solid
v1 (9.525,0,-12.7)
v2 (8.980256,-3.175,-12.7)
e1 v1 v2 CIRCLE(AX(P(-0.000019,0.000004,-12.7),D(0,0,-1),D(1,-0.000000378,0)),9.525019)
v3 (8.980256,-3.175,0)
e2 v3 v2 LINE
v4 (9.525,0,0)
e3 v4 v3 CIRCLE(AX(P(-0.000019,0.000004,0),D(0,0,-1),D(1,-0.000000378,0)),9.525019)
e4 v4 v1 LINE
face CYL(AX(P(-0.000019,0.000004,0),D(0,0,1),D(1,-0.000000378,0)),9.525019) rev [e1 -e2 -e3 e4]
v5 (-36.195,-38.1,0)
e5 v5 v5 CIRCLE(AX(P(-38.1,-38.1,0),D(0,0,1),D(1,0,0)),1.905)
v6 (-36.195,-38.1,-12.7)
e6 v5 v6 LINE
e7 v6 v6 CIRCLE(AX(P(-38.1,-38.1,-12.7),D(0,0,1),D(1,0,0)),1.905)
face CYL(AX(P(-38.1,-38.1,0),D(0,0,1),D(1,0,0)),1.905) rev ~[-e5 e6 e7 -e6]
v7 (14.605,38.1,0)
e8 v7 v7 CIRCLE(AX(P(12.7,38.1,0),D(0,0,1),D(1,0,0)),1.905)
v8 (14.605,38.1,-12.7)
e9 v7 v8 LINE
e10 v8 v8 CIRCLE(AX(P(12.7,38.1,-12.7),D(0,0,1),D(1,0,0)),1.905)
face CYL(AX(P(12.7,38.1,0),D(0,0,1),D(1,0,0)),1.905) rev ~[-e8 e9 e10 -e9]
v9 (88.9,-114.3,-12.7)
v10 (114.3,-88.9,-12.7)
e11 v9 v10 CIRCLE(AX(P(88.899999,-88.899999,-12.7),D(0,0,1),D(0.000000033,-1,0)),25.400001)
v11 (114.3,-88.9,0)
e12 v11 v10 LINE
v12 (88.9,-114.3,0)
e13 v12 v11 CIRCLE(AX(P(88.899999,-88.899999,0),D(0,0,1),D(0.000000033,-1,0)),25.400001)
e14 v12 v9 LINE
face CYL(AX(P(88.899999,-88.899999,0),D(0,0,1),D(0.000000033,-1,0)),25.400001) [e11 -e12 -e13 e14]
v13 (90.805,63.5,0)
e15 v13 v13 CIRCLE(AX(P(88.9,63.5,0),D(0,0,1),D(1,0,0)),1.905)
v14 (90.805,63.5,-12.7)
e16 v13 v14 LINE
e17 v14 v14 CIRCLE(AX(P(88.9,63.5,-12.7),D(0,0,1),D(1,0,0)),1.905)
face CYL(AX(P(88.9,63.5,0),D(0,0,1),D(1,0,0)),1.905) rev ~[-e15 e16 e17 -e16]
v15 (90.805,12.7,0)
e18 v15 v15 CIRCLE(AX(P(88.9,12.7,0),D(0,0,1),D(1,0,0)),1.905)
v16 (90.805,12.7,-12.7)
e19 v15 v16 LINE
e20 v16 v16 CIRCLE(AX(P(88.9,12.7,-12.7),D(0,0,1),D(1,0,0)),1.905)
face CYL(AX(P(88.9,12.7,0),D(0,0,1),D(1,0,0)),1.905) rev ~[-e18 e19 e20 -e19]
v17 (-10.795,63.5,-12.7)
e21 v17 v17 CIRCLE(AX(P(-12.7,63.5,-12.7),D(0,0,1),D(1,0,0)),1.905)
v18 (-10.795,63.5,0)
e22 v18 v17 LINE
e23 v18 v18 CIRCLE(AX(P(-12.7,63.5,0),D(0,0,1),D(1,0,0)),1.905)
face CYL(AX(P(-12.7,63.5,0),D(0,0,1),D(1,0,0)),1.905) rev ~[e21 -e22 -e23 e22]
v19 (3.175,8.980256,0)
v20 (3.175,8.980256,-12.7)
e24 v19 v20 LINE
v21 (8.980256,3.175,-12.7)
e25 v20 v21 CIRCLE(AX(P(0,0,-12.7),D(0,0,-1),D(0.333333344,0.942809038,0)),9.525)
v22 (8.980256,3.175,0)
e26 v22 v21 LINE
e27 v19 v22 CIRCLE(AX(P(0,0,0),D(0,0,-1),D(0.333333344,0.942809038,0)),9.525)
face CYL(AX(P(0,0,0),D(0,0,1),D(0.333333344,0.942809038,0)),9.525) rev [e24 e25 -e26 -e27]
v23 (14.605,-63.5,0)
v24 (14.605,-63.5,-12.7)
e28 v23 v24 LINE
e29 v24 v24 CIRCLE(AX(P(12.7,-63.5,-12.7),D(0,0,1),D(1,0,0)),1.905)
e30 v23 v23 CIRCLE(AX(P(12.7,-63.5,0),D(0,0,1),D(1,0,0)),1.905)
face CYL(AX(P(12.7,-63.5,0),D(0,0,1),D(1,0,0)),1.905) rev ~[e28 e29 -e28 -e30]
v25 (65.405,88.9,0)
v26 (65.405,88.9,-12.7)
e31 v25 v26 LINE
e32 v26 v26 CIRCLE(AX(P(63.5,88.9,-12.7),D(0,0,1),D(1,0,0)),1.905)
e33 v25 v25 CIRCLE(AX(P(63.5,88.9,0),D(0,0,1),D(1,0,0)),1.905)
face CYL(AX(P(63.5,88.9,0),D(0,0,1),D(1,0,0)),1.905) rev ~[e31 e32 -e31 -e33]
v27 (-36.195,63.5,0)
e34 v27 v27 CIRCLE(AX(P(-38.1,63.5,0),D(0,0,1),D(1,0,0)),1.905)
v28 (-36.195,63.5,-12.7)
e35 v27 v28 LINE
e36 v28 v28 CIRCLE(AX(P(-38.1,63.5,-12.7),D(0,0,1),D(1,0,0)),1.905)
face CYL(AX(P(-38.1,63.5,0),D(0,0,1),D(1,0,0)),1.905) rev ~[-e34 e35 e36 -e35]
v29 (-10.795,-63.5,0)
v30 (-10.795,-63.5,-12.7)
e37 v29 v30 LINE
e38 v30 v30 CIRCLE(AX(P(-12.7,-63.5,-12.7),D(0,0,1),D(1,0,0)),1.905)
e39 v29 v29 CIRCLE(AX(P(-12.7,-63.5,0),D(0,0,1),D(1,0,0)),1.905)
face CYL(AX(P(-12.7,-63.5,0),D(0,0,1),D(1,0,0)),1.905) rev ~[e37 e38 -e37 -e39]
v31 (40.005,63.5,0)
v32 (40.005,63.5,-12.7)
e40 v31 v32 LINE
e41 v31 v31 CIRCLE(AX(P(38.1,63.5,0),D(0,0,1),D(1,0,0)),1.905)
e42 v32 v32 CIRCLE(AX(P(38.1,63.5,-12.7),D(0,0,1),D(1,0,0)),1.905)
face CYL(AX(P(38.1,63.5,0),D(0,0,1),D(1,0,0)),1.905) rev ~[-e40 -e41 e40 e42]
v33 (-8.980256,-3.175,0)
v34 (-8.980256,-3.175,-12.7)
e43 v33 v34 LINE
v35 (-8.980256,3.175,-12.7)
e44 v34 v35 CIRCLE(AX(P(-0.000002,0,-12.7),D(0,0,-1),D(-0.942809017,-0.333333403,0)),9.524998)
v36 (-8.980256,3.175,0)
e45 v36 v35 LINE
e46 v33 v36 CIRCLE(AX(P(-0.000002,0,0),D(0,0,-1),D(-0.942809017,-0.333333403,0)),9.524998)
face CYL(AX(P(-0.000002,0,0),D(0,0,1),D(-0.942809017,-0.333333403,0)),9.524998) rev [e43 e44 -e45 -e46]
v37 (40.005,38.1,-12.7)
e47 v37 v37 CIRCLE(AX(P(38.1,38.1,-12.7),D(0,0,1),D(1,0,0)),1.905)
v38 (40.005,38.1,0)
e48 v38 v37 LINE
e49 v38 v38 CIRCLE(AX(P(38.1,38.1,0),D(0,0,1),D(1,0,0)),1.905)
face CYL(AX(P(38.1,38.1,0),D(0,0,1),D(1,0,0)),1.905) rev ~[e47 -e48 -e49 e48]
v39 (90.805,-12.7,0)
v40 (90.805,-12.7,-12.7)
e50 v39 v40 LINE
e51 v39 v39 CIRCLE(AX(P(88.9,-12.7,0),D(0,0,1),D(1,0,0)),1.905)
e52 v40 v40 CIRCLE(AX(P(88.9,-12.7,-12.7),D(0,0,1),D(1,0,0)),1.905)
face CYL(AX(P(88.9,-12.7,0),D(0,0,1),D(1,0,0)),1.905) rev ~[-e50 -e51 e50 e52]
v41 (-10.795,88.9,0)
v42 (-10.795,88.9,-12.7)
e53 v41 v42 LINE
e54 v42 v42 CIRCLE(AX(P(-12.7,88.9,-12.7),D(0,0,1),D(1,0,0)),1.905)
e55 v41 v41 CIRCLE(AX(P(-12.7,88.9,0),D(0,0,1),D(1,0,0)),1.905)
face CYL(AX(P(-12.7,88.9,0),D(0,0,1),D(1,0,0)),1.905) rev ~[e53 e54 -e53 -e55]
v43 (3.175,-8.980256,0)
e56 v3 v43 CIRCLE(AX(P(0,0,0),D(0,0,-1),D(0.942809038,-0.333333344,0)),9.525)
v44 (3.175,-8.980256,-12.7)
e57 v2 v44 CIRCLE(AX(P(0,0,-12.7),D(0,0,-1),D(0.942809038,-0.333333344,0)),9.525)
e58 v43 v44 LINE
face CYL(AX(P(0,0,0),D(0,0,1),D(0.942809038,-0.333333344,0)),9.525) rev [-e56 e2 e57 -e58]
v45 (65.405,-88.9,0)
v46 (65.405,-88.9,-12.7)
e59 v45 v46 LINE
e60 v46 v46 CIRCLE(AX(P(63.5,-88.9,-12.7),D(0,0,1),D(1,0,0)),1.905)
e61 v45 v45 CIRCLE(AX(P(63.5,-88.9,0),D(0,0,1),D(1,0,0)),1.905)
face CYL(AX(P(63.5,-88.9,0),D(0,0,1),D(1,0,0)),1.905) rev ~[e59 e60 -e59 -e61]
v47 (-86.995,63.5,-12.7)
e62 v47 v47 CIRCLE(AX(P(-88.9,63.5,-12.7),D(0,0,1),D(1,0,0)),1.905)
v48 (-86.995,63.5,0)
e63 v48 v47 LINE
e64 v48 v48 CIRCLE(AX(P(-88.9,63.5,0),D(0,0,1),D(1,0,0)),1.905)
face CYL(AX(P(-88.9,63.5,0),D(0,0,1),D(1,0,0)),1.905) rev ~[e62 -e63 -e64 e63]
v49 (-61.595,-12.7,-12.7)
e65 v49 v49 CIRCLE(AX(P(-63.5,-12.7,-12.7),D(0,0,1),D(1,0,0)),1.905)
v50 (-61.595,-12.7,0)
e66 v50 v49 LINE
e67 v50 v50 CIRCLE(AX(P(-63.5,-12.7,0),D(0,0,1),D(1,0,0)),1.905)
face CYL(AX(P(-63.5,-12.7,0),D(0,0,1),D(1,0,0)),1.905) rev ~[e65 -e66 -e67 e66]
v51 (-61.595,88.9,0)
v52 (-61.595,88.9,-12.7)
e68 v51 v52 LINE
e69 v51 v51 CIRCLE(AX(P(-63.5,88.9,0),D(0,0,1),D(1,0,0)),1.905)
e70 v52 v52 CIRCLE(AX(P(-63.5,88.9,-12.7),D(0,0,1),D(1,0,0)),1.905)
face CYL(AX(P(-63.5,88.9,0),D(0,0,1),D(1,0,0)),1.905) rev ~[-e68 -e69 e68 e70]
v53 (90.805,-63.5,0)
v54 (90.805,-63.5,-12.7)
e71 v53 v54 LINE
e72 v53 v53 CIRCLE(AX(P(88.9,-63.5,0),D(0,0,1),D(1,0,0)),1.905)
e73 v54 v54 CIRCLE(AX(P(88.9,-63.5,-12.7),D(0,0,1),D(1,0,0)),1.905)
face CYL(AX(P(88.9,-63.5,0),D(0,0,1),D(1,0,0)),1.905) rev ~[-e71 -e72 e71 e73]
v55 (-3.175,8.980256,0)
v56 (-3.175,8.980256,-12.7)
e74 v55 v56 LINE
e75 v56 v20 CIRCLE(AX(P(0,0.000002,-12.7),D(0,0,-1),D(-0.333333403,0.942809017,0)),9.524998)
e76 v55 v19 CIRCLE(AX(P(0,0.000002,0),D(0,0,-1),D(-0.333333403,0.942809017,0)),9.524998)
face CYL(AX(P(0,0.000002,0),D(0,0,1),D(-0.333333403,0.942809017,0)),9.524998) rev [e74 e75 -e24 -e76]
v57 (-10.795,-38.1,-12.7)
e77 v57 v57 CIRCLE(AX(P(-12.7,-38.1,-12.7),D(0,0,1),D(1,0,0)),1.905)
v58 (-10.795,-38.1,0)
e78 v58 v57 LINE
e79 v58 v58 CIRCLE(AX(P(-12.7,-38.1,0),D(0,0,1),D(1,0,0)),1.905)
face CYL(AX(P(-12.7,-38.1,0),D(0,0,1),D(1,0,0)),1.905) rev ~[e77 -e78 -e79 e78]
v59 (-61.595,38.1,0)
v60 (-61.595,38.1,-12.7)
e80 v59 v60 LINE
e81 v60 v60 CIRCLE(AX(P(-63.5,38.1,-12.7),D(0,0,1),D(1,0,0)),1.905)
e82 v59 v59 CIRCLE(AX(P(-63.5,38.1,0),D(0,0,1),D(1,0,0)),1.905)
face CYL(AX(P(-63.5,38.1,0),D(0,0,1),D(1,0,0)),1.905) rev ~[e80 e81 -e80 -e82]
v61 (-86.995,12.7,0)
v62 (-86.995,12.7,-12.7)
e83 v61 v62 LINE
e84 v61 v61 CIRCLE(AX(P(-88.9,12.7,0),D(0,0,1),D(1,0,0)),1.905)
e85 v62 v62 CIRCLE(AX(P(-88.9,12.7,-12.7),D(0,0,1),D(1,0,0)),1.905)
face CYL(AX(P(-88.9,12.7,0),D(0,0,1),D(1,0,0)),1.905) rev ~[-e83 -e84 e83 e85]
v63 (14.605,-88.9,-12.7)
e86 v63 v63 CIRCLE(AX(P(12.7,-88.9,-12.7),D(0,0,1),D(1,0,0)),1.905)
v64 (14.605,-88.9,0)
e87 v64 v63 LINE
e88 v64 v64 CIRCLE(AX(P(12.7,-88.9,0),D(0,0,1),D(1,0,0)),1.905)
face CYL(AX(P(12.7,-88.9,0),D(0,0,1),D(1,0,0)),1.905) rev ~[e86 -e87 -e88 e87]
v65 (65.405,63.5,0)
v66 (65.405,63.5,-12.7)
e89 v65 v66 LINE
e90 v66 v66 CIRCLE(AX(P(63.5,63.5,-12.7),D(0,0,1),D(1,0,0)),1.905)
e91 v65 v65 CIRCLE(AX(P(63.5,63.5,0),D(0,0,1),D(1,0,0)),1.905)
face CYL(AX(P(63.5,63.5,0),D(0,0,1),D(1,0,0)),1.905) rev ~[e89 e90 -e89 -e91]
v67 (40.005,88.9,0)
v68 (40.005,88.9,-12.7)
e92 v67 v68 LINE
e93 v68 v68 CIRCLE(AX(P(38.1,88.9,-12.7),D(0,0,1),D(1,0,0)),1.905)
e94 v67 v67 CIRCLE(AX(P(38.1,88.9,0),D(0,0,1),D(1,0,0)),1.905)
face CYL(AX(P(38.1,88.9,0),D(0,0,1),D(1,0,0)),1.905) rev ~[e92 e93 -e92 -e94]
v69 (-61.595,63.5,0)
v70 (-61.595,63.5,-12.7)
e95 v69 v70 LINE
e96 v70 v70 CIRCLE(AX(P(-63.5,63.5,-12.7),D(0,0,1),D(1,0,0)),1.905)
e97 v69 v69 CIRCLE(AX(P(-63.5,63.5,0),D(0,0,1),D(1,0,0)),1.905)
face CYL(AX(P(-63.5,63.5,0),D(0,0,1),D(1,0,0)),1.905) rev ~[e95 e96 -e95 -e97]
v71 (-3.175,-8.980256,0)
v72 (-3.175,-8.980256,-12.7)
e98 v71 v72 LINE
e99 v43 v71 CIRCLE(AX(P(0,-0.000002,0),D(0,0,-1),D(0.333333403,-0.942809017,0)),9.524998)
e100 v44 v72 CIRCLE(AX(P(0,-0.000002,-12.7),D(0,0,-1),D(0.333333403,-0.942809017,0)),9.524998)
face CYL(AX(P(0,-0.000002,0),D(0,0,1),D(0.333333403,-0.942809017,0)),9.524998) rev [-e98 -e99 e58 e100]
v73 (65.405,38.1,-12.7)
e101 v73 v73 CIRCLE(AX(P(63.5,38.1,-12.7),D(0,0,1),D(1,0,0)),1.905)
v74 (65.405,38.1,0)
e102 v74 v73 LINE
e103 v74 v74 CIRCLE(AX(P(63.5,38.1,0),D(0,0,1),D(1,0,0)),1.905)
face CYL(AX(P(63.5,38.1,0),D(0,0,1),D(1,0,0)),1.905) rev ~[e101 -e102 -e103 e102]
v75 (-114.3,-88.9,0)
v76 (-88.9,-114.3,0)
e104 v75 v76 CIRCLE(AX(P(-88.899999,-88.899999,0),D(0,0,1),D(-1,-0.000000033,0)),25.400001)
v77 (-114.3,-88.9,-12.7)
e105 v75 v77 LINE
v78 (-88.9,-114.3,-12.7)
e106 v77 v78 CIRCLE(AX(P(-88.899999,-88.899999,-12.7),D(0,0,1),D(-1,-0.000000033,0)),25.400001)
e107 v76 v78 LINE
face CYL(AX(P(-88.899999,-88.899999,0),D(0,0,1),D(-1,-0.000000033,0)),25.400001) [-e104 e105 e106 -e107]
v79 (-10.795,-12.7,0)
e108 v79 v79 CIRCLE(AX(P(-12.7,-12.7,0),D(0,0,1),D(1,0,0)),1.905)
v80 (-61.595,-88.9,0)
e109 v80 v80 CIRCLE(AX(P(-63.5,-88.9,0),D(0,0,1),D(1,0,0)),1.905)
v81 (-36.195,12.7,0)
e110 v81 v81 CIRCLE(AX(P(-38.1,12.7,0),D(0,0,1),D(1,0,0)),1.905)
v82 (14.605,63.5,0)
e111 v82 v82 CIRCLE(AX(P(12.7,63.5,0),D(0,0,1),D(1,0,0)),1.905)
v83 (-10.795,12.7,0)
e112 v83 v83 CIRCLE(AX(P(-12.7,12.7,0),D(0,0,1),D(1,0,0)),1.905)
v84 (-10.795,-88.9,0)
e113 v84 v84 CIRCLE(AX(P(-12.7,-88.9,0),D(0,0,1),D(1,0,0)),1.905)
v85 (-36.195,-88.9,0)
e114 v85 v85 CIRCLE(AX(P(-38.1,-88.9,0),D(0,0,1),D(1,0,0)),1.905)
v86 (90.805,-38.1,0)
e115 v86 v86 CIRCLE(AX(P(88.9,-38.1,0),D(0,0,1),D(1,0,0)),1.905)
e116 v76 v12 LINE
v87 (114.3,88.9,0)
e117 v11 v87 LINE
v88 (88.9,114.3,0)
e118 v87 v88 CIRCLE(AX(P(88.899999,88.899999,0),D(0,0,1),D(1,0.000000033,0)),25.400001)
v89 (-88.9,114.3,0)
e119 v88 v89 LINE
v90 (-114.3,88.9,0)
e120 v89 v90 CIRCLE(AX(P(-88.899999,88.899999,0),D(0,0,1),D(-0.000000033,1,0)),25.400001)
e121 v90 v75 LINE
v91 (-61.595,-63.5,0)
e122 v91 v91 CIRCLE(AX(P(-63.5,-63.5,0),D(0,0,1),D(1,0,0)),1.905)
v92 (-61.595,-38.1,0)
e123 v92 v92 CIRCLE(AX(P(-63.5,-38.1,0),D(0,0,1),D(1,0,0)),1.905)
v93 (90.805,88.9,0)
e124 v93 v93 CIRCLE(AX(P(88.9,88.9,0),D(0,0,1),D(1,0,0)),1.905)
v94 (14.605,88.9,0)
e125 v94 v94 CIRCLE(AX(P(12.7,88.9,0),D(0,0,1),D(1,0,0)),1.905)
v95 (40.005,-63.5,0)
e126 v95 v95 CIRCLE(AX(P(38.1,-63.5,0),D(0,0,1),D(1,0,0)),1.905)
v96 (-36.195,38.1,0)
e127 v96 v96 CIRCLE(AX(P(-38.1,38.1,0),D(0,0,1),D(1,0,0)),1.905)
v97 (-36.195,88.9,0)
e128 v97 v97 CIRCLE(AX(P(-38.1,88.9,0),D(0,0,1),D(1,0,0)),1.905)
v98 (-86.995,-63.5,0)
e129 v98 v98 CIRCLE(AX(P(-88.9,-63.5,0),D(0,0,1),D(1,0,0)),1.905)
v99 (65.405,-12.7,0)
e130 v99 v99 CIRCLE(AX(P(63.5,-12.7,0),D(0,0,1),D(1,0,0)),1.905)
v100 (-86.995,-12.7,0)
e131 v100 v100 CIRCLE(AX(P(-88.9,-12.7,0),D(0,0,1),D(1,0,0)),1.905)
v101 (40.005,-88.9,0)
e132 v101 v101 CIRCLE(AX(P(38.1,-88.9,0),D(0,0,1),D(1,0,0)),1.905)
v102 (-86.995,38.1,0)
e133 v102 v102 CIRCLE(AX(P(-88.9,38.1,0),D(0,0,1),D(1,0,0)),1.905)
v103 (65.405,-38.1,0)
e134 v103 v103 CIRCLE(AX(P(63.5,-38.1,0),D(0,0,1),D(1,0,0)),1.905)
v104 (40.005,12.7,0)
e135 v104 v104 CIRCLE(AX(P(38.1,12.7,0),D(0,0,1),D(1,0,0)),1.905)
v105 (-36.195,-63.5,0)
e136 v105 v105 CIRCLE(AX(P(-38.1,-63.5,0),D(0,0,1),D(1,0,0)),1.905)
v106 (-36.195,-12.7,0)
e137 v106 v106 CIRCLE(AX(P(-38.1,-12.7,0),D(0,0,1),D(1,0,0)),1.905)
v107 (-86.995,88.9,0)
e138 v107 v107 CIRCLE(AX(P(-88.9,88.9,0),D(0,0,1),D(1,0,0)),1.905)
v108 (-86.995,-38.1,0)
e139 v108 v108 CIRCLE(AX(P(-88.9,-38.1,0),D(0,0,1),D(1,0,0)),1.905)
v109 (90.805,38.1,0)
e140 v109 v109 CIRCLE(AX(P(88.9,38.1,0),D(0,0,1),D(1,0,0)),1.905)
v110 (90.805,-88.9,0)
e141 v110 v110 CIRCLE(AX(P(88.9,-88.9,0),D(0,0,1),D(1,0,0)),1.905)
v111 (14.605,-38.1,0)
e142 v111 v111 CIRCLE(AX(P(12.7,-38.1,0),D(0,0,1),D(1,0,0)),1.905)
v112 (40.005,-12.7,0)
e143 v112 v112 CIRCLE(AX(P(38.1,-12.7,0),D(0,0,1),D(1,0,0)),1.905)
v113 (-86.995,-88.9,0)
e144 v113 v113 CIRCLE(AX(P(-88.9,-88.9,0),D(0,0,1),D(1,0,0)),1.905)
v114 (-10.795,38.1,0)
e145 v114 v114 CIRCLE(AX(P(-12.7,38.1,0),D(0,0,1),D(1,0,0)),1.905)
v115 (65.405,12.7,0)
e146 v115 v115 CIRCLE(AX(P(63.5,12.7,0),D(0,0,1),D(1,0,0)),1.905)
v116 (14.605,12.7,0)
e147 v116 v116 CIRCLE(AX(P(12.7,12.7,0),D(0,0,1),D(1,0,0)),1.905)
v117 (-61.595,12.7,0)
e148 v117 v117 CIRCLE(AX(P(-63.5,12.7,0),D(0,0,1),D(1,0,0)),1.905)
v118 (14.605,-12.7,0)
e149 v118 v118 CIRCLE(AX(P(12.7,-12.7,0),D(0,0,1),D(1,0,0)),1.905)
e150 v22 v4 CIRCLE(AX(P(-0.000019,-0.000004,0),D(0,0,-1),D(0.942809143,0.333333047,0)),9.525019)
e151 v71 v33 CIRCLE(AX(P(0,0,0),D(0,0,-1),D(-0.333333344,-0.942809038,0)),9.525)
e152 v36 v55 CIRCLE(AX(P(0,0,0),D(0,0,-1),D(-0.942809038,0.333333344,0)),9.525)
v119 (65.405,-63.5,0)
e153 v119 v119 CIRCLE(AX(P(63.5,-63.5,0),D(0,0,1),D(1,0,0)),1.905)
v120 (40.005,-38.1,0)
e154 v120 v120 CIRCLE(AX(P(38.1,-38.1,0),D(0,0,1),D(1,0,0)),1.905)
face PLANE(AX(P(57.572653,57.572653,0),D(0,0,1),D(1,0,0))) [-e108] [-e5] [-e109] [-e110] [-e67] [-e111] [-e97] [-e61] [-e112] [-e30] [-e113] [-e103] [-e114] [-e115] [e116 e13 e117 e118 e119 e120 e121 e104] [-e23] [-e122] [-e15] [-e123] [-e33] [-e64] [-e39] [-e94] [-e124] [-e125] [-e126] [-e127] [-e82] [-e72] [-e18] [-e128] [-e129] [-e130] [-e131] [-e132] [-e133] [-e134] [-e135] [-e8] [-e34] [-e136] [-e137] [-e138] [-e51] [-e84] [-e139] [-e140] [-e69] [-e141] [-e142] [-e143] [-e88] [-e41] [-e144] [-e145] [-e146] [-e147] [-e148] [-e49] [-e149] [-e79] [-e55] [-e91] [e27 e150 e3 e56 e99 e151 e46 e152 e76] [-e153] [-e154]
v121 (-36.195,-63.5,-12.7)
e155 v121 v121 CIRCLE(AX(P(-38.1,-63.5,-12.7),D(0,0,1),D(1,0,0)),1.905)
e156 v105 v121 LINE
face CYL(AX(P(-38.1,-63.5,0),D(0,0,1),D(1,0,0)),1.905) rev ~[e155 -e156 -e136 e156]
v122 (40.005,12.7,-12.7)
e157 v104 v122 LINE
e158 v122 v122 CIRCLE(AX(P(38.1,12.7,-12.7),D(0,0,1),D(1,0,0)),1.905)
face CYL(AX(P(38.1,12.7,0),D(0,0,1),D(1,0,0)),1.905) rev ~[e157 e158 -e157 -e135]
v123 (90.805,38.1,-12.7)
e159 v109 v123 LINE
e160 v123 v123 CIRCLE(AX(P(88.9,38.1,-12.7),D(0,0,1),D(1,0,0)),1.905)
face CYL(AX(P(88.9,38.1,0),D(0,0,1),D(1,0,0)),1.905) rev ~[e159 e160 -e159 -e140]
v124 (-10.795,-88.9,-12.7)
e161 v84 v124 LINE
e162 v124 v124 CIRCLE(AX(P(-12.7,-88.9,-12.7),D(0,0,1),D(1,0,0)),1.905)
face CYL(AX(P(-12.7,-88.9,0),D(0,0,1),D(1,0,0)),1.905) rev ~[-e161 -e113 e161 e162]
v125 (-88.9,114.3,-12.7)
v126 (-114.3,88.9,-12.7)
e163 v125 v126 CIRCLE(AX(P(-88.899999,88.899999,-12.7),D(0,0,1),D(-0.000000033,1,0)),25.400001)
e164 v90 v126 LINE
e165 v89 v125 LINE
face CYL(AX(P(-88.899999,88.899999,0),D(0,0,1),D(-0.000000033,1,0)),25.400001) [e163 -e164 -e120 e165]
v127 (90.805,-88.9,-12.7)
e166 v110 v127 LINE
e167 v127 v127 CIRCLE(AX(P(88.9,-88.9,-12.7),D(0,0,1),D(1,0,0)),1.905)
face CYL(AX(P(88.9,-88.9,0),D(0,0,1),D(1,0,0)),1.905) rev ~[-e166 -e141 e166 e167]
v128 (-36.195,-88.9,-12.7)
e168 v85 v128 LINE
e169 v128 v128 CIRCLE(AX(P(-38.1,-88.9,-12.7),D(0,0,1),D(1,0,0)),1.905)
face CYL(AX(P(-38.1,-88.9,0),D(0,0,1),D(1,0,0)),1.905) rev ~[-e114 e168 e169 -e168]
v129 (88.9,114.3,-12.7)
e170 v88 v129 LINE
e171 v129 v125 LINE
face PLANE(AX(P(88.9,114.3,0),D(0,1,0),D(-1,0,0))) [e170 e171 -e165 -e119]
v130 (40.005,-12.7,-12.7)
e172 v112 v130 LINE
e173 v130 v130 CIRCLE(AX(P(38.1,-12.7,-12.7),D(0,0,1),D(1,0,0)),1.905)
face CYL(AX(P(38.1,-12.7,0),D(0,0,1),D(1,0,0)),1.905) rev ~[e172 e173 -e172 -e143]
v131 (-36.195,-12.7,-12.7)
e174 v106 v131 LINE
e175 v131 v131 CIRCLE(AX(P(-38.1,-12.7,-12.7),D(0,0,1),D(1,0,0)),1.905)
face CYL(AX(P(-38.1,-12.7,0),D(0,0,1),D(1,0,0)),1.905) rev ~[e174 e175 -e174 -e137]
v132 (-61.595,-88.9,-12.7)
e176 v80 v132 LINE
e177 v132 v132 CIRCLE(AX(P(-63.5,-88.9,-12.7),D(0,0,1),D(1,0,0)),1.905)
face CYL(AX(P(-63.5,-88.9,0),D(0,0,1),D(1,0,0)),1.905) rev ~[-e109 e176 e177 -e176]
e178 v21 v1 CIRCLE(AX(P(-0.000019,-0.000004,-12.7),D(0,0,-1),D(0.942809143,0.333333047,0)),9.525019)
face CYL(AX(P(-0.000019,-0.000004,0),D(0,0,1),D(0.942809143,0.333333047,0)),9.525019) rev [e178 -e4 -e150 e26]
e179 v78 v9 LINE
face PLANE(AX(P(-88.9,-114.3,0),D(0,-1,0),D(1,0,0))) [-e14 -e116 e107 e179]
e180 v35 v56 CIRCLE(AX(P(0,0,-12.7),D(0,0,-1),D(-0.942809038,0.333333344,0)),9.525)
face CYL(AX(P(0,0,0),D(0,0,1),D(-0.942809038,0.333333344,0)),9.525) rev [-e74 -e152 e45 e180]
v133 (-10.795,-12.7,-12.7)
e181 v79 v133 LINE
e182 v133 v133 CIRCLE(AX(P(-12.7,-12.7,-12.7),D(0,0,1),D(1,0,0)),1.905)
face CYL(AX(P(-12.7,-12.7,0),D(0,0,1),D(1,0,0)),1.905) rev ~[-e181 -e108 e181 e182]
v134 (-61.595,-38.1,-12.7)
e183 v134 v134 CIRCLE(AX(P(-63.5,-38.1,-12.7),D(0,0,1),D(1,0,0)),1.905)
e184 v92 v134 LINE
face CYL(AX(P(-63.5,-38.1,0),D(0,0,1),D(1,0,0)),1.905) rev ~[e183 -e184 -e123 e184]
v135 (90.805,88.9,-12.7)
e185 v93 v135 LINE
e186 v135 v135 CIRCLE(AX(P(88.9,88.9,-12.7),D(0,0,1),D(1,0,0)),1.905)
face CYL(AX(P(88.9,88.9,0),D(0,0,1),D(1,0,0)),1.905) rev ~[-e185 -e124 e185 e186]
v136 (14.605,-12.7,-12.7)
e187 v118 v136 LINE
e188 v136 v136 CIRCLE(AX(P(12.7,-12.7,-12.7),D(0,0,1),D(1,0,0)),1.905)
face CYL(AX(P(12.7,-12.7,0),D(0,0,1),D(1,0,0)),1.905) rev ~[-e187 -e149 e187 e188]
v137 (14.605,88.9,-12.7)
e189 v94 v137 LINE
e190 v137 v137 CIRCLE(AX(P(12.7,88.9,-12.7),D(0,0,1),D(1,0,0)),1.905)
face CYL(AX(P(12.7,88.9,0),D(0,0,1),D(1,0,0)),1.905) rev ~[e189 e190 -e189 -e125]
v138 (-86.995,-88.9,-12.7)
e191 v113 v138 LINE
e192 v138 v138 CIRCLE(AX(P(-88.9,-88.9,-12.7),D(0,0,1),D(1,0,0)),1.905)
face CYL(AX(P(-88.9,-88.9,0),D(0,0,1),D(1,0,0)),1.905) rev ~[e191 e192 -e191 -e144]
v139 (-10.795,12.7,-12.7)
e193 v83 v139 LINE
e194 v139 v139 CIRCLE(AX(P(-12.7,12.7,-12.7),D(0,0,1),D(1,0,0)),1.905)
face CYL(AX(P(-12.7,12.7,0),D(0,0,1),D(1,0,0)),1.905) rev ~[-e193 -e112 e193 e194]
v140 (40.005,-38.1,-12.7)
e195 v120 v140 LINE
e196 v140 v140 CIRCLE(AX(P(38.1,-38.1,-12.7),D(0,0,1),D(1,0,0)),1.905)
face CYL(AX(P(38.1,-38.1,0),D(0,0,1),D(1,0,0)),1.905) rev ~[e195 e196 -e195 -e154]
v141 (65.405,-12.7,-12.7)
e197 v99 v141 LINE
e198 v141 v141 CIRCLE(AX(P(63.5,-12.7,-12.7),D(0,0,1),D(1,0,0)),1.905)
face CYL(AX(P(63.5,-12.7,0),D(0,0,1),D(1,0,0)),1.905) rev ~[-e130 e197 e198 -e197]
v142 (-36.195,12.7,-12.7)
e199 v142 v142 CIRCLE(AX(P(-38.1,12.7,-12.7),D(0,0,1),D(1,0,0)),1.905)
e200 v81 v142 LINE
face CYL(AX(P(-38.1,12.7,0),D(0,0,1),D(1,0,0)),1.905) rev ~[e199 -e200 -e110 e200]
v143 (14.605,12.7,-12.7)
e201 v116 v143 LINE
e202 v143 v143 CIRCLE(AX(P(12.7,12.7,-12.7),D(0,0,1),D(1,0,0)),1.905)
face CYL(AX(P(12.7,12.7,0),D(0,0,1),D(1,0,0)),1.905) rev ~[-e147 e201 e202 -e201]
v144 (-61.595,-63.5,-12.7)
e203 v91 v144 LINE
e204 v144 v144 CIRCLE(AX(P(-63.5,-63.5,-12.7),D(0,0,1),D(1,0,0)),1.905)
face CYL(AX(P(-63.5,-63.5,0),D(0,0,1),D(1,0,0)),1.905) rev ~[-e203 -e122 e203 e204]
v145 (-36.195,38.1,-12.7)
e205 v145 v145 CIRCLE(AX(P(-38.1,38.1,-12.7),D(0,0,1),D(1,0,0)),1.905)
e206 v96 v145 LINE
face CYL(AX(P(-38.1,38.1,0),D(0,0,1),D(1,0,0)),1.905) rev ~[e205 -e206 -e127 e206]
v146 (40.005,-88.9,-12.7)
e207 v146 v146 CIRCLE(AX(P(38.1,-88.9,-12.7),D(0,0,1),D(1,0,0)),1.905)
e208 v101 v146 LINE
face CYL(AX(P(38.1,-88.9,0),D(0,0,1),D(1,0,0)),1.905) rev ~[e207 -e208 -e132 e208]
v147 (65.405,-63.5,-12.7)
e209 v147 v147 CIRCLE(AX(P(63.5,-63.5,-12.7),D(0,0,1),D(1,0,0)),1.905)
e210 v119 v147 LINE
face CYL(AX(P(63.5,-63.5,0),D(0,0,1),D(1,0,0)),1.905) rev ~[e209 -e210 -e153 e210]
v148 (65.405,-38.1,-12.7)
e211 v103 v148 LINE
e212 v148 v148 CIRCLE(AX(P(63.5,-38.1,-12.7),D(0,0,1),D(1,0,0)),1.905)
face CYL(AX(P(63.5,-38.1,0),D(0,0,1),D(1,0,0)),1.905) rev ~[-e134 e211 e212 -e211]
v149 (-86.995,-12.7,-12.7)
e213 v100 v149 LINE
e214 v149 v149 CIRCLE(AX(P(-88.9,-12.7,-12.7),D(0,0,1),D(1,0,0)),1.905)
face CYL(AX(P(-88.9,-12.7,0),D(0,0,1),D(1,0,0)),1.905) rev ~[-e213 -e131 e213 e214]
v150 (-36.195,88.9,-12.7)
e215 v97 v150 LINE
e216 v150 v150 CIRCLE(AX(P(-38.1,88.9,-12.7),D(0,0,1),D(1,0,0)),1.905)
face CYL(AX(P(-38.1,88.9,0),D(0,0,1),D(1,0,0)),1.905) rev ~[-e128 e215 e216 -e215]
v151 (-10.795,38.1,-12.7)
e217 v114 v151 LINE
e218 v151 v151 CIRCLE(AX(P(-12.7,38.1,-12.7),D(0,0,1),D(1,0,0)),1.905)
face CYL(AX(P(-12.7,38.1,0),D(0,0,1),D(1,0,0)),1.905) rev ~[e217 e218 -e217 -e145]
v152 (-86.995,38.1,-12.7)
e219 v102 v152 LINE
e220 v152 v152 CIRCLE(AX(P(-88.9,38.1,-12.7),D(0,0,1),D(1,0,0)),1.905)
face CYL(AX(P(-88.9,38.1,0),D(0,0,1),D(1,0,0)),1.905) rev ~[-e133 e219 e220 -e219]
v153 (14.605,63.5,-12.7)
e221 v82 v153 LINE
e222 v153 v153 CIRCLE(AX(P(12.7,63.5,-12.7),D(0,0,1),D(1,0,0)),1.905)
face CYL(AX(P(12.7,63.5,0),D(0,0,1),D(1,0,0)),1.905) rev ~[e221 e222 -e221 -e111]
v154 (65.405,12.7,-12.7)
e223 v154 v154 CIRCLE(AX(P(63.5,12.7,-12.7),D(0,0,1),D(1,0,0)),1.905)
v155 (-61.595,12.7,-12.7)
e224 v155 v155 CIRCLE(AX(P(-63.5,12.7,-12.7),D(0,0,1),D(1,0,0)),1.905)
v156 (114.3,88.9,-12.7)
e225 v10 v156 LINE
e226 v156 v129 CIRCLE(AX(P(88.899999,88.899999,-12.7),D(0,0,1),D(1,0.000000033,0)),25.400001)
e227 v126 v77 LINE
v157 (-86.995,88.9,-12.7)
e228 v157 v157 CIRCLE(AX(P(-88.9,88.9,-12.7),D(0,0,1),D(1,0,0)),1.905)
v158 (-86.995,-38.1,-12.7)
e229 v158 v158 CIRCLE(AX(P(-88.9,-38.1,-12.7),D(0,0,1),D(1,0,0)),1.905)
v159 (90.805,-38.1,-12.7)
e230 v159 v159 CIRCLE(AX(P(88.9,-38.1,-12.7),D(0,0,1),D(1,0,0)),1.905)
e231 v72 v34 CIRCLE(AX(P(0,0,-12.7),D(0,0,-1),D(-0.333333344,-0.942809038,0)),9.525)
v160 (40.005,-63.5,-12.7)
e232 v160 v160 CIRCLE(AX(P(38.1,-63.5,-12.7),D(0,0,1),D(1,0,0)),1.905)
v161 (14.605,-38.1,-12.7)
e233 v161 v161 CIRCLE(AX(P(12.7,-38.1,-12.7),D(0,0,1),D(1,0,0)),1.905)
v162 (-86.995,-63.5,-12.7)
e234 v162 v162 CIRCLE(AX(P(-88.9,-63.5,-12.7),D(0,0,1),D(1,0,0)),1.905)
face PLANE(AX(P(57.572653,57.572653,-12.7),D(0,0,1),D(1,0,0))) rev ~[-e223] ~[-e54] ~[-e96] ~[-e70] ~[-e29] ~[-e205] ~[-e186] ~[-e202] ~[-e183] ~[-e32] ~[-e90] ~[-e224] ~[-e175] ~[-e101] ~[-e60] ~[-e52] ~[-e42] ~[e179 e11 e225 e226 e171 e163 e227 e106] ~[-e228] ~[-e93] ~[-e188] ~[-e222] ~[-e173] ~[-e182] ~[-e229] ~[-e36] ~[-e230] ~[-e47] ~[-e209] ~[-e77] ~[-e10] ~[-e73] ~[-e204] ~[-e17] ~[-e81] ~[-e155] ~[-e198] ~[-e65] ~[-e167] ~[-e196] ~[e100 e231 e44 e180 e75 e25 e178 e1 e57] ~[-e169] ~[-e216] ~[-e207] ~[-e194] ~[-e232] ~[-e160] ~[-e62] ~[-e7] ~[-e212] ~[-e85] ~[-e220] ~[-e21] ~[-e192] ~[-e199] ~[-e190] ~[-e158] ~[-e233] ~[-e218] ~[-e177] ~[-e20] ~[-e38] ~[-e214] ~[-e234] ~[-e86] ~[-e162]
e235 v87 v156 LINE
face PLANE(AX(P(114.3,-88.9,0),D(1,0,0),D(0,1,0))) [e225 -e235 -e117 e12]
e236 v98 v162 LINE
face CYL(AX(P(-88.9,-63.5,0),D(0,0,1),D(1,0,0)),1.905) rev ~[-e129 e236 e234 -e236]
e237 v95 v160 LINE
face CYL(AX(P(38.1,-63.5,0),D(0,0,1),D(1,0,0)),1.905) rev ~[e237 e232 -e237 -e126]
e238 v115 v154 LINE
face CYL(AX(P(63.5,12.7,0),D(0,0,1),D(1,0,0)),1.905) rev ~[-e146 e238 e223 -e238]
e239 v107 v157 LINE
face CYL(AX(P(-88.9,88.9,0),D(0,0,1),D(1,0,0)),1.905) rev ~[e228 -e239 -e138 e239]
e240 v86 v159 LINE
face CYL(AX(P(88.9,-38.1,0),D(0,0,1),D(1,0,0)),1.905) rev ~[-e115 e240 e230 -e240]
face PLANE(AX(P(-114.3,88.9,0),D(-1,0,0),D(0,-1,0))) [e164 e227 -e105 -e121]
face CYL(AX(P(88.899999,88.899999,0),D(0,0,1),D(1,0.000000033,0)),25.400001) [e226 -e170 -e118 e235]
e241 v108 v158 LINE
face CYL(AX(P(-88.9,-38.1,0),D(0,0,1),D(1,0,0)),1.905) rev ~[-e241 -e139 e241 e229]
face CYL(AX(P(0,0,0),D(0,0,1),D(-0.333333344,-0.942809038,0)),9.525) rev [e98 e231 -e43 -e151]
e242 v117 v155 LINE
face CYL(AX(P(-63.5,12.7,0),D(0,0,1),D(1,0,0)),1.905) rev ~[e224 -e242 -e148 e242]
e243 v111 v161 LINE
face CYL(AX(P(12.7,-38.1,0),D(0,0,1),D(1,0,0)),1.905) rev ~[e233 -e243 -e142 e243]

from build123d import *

# Parameters (mm, degrees)
F0_R     = 1.905
F1_DEPTH = 12.7


with BuildPart() as f1:
    # F0 (on Top) → F1 (new body)
    with BuildSketch(Plane.XY):
        with BuildLine():
            ThreePointArc((114.3, 88.9), (106.860512, 106.860512), (88.9, 114.3))
            Line((88.9, 114.3), (3.175, 114.3))
            Line((3.175, 114.3), (3.175, 8.980256))
            ThreePointArc((3.175, 8.980256), (6.735192, 6.735192), (8.980256, 3.175))
            Line((8.980256, 3.175), (114.3, 3.175))
            Line((114.3, 3.175), (114.3, 88.9))
        make_face()
        with Locations((12.7, 12.7)):
            Circle(F0_R, mode=Mode.SUBTRACT)
        with Locations((38.1, 12.7)):
            Circle(F0_R, mode=Mode.SUBTRACT)
        with Locations((12.7, 38.1)):
            Circle(F0_R, mode=Mode.SUBTRACT)
        with Locations((38.1, 38.1)):
            Circle(F0_R, mode=Mode.SUBTRACT)
        with Locations((63.5, 12.7)):
            Circle(F0_R, mode=Mode.SUBTRACT)
        with Locations((88.9, 12.7)):
            Circle(F0_R, mode=Mode.SUBTRACT)
        with Locations((63.5, 38.1)):
            Circle(F0_R, mode=Mode.SUBTRACT)
        with Locations((88.9, 38.1)):
            Circle(F0_R, mode=Mode.SUBTRACT)
        with Locations((12.7, 63.5)):
            Circle(F0_R, mode=Mode.SUBTRACT)
        with Locations((38.1, 63.5)):
            Circle(F0_R, mode=Mode.SUBTRACT)
        with Locations((12.7, 88.9)):
            Circle(F0_R, mode=Mode.SUBTRACT)
        with Locations((38.1, 88.9)):
            Circle(F0_R, mode=Mode.SUBTRACT)
        with Locations((63.5, 63.5)):
            Circle(F0_R, mode=Mode.SUBTRACT)
        with Locations((88.9, 63.5)):
            Circle(F0_R, mode=Mode.SUBTRACT)
        with Locations((63.5, 88.9)):
            Circle(F0_R, mode=Mode.SUBTRACT)
        with Locations((88.9, 88.9)):
            Circle(F0_R, mode=Mode.SUBTRACT)
        with BuildLine():
            Line((3.175, 8.980256), (3.175, 114.3))
            Line((3.175, 114.3), (-3.175, 114.3))
            Line((-3.175, 114.3), (-3.175, 8.980256))
            ThreePointArc((-3.175, 8.980256), (0, 9.525), (3.175, 8.980256))
        make_face()
        with BuildLine():
            Line((-3.175, 8.980256), (-3.175, 114.3))
            Line((-3.175, 114.3), (-88.9, 114.3))
            ThreePointArc((-88.9, 114.3), (-106.860512, 106.860512), (-114.3, 88.9))
            Line((-114.3, 88.9), (-114.3, 3.175))
            Line((-114.3, 3.175), (-8.980256, 3.175))
            ThreePointArc((-8.980256, 3.175), (-6.735192, 6.735192), (-3.175, 8.980256))
        make_face()
        with Locations((-88.9, 12.7)):
            Circle(F0_R, mode=Mode.SUBTRACT)
        with Locations((-63.5, 12.7)):
            Circle(F0_R, mode=Mode.SUBTRACT)
        with Locations((-88.9, 38.1)):
            Circle(F0_R, mode=Mode.SUBTRACT)
        with Locations((-63.5, 38.1)):
            Circle(F0_R, mode=Mode.SUBTRACT)
        with Locations((-38.1, 12.7)):
            Circle(F0_R, mode=Mode.SUBTRACT)
        with Locations((-12.7, 12.7)):
            Circle(F0_R, mode=Mode.SUBTRACT)
        with Locations((-38.1, 38.1)):
            Circle(F0_R, mode=Mode.SUBTRACT)
        with Locations((-12.7, 38.1)):
            Circle(F0_R, mode=Mode.SUBTRACT)
        with Locations((-88.9, 63.5)):
            Circle(F0_R, mode=Mode.SUBTRACT)
        with Locations((-63.5, 63.5)):
            Circle(F0_R, mode=Mode.SUBTRACT)
        with Locations((-88.9, 88.9)):
            Circle(F0_R, mode=Mode.SUBTRACT)
        with Locations((-63.5, 88.9)):
            Circle(F0_R, mode=Mode.SUBTRACT)
        with Locations((-38.1, 63.5)):
            Circle(F0_R, mode=Mode.SUBTRACT)
        with Locations((-12.7, 63.5)):
            Circle(F0_R, mode=Mode.SUBTRACT)
        with Locations((-38.1, 88.9)):
            Circle(F0_R, mode=Mode.SUBTRACT)
        with Locations((-12.7, 88.9)):
            Circle(F0_R, mode=Mode.SUBTRACT)
        with BuildLine():
            Line((114.3, -3.175), (114.3, 3.175))
            Line((114.3, 3.175), (8.980256, 3.175))
            ThreePointArc((8.980256, 3.175), (9.387826, 1.610696), (9.525, 0))
            ThreePointArc((9.525, 0), (9.387826, -1.610696), (8.980256, -3.175))
            Line((8.980256, -3.175), (114.3, -3.175))
        make_face()
        with BuildLine():
            Line((114.3, -88.9), (114.3, -3.175))
            Line((114.3, -3.175), (8.980256, -3.175))
            ThreePointArc((8.980256, -3.175), (6.735192, -6.735192), (3.175, -8.980256))
            Line((3.175, -8.980256), (3.175, -114.3))
            Line((3.175, -114.3), (88.9, -114.3))
            ThreePointArc((88.9, -114.3), (106.860512, -106.860512), (114.3, -88.9))
        make_face()
        with Locations((12.7, -88.9)):
            Circle(F0_R, mode=Mode.SUBTRACT)
        with Locations((38.1, -88.9)):
            Circle(F0_R, mode=Mode.SUBTRACT)
        with Locations((12.7, -63.5)):
            Circle(F0_R, mode=Mode.SUBTRACT)
        with Locations((38.1, -63.5)):
            Circle(F0_R, mode=Mode.SUBTRACT)
        with Locations((63.5, -88.9)):
            Circle(F0_R, mode=Mode.SUBTRACT)
        with Locations((88.9, -88.9)):
            Circle(F0_R, mode=Mode.SUBTRACT)
        with Locations((63.5, -63.5)):
            Circle(F0_R, mode=Mode.SUBTRACT)
        with Locations((88.9, -63.5)):
            Circle(F0_R, mode=Mode.SUBTRACT)
        with Locations((12.7, -38.1)):
            Circle(F0_R, mode=Mode.SUBTRACT)
        with Locations((38.1, -38.1)):
            Circle(F0_R, mode=Mode.SUBTRACT)
        with Locations((12.7, -12.7)):
            Circle(F0_R, mode=Mode.SUBTRACT)
        with Locations((38.1, -12.7)):
            Circle(F0_R, mode=Mode.SUBTRACT)
        with Locations((63.5, -38.1)):
            Circle(F0_R, mode=Mode.SUBTRACT)
        with Locations((88.9, -38.1)):
            Circle(F0_R, mode=Mode.SUBTRACT)
        with Locations((63.5, -12.7)):
            Circle(F0_R, mode=Mode.SUBTRACT)
        with Locations((88.9, -12.7)):
            Circle(F0_R, mode=Mode.SUBTRACT)
        with BuildLine():
            ThreePointArc((-8.980256, -3.175), (-9.525, 0), (-8.980256, 3.175))
            Line((-8.980256, 3.175), (-114.3, 3.175))
            Line((-114.3, 3.175), (-114.3, -3.175))
            Line((-114.3, -3.175), (-8.980256, -3.175))
        make_face()
        with BuildLine():
            ThreePointArc((-3.175, -8.980256), (-6.735192, -6.735192), (-8.980256, -3.175))
            Line((-8.980256, -3.175), (-114.3, -3.175))
            Line((-114.3, -3.175), (-114.3, -88.9))
            ThreePointArc((-114.3, -88.9), (-106.860512, -106.860512), (-88.9, -114.3))
            Line((-88.9, -114.3), (-3.175, -114.3))
            Line((-3.175, -114.3), (-3.175, -8.980256))
        make_face()
        with Locations((-88.9, -88.9)):
            Circle(F0_R, mode=Mode.SUBTRACT)
        with Locations((-63.5, -88.9)):
            Circle(F0_R, mode=Mode.SUBTRACT)
        with Locations((-88.9, -63.5)):
            Circle(F0_R, mode=Mode.SUBTRACT)
        with Locations((-63.5, -63.5)):
            Circle(F0_R, mode=Mode.SUBTRACT)
        with Locations((-38.1, -88.9)):
            Circle(F0_R, mode=Mode.SUBTRACT)
        with Locations((-12.7, -88.9)):
            Circle(F0_R, mode=Mode.SUBTRACT)
        with Locations((-38.1, -63.5)):
            Circle(F0_R, mode=Mode.SUBTRACT)
        with Locations((-12.7, -63.5)):
            Circle(F0_R, mode=Mode.SUBTRACT)
        with Locations((-88.9, -38.1)):
            Circle(F0_R, mode=Mode.SUBTRACT)
        with Locations((-63.5, -38.1)):
            Circle(F0_R, mode=Mode.SUBTRACT)
        with Locations((-88.9, -12.7)):
            Circle(F0_R, mode=Mode.SUBTRACT)
        with Locations((-63.5, -12.7)):
            Circle(F0_R, mode=Mode.SUBTRACT)
        with Locations((-38.1, -38.1)):
            Circle(F0_R, mode=Mode.SUBTRACT)
        with Locations((-12.7, -38.1)):
            Circle(F0_R, mode=Mode.SUBTRACT)
        with Locations((-38.1, -12.7)):
            Circle(F0_R, mode=Mode.SUBTRACT)
        with Locations((-12.7, -12.7)):
            Circle(F0_R, mode=Mode.SUBTRACT)
        with BuildLine():
            Line((3.175, -114.3), (3.175, -8.980256))
            ThreePointArc((3.175, -8.980256), (0, -9.525), (-3.175, -8.980256))
            Line((-3.175, -8.980256), (-3.175, -114.3))
            Line((-3.175, -114.3), (3.175, -114.3))
        make_face()
    extrude(amount=-F1_DEPTH)


solid = f1.part
